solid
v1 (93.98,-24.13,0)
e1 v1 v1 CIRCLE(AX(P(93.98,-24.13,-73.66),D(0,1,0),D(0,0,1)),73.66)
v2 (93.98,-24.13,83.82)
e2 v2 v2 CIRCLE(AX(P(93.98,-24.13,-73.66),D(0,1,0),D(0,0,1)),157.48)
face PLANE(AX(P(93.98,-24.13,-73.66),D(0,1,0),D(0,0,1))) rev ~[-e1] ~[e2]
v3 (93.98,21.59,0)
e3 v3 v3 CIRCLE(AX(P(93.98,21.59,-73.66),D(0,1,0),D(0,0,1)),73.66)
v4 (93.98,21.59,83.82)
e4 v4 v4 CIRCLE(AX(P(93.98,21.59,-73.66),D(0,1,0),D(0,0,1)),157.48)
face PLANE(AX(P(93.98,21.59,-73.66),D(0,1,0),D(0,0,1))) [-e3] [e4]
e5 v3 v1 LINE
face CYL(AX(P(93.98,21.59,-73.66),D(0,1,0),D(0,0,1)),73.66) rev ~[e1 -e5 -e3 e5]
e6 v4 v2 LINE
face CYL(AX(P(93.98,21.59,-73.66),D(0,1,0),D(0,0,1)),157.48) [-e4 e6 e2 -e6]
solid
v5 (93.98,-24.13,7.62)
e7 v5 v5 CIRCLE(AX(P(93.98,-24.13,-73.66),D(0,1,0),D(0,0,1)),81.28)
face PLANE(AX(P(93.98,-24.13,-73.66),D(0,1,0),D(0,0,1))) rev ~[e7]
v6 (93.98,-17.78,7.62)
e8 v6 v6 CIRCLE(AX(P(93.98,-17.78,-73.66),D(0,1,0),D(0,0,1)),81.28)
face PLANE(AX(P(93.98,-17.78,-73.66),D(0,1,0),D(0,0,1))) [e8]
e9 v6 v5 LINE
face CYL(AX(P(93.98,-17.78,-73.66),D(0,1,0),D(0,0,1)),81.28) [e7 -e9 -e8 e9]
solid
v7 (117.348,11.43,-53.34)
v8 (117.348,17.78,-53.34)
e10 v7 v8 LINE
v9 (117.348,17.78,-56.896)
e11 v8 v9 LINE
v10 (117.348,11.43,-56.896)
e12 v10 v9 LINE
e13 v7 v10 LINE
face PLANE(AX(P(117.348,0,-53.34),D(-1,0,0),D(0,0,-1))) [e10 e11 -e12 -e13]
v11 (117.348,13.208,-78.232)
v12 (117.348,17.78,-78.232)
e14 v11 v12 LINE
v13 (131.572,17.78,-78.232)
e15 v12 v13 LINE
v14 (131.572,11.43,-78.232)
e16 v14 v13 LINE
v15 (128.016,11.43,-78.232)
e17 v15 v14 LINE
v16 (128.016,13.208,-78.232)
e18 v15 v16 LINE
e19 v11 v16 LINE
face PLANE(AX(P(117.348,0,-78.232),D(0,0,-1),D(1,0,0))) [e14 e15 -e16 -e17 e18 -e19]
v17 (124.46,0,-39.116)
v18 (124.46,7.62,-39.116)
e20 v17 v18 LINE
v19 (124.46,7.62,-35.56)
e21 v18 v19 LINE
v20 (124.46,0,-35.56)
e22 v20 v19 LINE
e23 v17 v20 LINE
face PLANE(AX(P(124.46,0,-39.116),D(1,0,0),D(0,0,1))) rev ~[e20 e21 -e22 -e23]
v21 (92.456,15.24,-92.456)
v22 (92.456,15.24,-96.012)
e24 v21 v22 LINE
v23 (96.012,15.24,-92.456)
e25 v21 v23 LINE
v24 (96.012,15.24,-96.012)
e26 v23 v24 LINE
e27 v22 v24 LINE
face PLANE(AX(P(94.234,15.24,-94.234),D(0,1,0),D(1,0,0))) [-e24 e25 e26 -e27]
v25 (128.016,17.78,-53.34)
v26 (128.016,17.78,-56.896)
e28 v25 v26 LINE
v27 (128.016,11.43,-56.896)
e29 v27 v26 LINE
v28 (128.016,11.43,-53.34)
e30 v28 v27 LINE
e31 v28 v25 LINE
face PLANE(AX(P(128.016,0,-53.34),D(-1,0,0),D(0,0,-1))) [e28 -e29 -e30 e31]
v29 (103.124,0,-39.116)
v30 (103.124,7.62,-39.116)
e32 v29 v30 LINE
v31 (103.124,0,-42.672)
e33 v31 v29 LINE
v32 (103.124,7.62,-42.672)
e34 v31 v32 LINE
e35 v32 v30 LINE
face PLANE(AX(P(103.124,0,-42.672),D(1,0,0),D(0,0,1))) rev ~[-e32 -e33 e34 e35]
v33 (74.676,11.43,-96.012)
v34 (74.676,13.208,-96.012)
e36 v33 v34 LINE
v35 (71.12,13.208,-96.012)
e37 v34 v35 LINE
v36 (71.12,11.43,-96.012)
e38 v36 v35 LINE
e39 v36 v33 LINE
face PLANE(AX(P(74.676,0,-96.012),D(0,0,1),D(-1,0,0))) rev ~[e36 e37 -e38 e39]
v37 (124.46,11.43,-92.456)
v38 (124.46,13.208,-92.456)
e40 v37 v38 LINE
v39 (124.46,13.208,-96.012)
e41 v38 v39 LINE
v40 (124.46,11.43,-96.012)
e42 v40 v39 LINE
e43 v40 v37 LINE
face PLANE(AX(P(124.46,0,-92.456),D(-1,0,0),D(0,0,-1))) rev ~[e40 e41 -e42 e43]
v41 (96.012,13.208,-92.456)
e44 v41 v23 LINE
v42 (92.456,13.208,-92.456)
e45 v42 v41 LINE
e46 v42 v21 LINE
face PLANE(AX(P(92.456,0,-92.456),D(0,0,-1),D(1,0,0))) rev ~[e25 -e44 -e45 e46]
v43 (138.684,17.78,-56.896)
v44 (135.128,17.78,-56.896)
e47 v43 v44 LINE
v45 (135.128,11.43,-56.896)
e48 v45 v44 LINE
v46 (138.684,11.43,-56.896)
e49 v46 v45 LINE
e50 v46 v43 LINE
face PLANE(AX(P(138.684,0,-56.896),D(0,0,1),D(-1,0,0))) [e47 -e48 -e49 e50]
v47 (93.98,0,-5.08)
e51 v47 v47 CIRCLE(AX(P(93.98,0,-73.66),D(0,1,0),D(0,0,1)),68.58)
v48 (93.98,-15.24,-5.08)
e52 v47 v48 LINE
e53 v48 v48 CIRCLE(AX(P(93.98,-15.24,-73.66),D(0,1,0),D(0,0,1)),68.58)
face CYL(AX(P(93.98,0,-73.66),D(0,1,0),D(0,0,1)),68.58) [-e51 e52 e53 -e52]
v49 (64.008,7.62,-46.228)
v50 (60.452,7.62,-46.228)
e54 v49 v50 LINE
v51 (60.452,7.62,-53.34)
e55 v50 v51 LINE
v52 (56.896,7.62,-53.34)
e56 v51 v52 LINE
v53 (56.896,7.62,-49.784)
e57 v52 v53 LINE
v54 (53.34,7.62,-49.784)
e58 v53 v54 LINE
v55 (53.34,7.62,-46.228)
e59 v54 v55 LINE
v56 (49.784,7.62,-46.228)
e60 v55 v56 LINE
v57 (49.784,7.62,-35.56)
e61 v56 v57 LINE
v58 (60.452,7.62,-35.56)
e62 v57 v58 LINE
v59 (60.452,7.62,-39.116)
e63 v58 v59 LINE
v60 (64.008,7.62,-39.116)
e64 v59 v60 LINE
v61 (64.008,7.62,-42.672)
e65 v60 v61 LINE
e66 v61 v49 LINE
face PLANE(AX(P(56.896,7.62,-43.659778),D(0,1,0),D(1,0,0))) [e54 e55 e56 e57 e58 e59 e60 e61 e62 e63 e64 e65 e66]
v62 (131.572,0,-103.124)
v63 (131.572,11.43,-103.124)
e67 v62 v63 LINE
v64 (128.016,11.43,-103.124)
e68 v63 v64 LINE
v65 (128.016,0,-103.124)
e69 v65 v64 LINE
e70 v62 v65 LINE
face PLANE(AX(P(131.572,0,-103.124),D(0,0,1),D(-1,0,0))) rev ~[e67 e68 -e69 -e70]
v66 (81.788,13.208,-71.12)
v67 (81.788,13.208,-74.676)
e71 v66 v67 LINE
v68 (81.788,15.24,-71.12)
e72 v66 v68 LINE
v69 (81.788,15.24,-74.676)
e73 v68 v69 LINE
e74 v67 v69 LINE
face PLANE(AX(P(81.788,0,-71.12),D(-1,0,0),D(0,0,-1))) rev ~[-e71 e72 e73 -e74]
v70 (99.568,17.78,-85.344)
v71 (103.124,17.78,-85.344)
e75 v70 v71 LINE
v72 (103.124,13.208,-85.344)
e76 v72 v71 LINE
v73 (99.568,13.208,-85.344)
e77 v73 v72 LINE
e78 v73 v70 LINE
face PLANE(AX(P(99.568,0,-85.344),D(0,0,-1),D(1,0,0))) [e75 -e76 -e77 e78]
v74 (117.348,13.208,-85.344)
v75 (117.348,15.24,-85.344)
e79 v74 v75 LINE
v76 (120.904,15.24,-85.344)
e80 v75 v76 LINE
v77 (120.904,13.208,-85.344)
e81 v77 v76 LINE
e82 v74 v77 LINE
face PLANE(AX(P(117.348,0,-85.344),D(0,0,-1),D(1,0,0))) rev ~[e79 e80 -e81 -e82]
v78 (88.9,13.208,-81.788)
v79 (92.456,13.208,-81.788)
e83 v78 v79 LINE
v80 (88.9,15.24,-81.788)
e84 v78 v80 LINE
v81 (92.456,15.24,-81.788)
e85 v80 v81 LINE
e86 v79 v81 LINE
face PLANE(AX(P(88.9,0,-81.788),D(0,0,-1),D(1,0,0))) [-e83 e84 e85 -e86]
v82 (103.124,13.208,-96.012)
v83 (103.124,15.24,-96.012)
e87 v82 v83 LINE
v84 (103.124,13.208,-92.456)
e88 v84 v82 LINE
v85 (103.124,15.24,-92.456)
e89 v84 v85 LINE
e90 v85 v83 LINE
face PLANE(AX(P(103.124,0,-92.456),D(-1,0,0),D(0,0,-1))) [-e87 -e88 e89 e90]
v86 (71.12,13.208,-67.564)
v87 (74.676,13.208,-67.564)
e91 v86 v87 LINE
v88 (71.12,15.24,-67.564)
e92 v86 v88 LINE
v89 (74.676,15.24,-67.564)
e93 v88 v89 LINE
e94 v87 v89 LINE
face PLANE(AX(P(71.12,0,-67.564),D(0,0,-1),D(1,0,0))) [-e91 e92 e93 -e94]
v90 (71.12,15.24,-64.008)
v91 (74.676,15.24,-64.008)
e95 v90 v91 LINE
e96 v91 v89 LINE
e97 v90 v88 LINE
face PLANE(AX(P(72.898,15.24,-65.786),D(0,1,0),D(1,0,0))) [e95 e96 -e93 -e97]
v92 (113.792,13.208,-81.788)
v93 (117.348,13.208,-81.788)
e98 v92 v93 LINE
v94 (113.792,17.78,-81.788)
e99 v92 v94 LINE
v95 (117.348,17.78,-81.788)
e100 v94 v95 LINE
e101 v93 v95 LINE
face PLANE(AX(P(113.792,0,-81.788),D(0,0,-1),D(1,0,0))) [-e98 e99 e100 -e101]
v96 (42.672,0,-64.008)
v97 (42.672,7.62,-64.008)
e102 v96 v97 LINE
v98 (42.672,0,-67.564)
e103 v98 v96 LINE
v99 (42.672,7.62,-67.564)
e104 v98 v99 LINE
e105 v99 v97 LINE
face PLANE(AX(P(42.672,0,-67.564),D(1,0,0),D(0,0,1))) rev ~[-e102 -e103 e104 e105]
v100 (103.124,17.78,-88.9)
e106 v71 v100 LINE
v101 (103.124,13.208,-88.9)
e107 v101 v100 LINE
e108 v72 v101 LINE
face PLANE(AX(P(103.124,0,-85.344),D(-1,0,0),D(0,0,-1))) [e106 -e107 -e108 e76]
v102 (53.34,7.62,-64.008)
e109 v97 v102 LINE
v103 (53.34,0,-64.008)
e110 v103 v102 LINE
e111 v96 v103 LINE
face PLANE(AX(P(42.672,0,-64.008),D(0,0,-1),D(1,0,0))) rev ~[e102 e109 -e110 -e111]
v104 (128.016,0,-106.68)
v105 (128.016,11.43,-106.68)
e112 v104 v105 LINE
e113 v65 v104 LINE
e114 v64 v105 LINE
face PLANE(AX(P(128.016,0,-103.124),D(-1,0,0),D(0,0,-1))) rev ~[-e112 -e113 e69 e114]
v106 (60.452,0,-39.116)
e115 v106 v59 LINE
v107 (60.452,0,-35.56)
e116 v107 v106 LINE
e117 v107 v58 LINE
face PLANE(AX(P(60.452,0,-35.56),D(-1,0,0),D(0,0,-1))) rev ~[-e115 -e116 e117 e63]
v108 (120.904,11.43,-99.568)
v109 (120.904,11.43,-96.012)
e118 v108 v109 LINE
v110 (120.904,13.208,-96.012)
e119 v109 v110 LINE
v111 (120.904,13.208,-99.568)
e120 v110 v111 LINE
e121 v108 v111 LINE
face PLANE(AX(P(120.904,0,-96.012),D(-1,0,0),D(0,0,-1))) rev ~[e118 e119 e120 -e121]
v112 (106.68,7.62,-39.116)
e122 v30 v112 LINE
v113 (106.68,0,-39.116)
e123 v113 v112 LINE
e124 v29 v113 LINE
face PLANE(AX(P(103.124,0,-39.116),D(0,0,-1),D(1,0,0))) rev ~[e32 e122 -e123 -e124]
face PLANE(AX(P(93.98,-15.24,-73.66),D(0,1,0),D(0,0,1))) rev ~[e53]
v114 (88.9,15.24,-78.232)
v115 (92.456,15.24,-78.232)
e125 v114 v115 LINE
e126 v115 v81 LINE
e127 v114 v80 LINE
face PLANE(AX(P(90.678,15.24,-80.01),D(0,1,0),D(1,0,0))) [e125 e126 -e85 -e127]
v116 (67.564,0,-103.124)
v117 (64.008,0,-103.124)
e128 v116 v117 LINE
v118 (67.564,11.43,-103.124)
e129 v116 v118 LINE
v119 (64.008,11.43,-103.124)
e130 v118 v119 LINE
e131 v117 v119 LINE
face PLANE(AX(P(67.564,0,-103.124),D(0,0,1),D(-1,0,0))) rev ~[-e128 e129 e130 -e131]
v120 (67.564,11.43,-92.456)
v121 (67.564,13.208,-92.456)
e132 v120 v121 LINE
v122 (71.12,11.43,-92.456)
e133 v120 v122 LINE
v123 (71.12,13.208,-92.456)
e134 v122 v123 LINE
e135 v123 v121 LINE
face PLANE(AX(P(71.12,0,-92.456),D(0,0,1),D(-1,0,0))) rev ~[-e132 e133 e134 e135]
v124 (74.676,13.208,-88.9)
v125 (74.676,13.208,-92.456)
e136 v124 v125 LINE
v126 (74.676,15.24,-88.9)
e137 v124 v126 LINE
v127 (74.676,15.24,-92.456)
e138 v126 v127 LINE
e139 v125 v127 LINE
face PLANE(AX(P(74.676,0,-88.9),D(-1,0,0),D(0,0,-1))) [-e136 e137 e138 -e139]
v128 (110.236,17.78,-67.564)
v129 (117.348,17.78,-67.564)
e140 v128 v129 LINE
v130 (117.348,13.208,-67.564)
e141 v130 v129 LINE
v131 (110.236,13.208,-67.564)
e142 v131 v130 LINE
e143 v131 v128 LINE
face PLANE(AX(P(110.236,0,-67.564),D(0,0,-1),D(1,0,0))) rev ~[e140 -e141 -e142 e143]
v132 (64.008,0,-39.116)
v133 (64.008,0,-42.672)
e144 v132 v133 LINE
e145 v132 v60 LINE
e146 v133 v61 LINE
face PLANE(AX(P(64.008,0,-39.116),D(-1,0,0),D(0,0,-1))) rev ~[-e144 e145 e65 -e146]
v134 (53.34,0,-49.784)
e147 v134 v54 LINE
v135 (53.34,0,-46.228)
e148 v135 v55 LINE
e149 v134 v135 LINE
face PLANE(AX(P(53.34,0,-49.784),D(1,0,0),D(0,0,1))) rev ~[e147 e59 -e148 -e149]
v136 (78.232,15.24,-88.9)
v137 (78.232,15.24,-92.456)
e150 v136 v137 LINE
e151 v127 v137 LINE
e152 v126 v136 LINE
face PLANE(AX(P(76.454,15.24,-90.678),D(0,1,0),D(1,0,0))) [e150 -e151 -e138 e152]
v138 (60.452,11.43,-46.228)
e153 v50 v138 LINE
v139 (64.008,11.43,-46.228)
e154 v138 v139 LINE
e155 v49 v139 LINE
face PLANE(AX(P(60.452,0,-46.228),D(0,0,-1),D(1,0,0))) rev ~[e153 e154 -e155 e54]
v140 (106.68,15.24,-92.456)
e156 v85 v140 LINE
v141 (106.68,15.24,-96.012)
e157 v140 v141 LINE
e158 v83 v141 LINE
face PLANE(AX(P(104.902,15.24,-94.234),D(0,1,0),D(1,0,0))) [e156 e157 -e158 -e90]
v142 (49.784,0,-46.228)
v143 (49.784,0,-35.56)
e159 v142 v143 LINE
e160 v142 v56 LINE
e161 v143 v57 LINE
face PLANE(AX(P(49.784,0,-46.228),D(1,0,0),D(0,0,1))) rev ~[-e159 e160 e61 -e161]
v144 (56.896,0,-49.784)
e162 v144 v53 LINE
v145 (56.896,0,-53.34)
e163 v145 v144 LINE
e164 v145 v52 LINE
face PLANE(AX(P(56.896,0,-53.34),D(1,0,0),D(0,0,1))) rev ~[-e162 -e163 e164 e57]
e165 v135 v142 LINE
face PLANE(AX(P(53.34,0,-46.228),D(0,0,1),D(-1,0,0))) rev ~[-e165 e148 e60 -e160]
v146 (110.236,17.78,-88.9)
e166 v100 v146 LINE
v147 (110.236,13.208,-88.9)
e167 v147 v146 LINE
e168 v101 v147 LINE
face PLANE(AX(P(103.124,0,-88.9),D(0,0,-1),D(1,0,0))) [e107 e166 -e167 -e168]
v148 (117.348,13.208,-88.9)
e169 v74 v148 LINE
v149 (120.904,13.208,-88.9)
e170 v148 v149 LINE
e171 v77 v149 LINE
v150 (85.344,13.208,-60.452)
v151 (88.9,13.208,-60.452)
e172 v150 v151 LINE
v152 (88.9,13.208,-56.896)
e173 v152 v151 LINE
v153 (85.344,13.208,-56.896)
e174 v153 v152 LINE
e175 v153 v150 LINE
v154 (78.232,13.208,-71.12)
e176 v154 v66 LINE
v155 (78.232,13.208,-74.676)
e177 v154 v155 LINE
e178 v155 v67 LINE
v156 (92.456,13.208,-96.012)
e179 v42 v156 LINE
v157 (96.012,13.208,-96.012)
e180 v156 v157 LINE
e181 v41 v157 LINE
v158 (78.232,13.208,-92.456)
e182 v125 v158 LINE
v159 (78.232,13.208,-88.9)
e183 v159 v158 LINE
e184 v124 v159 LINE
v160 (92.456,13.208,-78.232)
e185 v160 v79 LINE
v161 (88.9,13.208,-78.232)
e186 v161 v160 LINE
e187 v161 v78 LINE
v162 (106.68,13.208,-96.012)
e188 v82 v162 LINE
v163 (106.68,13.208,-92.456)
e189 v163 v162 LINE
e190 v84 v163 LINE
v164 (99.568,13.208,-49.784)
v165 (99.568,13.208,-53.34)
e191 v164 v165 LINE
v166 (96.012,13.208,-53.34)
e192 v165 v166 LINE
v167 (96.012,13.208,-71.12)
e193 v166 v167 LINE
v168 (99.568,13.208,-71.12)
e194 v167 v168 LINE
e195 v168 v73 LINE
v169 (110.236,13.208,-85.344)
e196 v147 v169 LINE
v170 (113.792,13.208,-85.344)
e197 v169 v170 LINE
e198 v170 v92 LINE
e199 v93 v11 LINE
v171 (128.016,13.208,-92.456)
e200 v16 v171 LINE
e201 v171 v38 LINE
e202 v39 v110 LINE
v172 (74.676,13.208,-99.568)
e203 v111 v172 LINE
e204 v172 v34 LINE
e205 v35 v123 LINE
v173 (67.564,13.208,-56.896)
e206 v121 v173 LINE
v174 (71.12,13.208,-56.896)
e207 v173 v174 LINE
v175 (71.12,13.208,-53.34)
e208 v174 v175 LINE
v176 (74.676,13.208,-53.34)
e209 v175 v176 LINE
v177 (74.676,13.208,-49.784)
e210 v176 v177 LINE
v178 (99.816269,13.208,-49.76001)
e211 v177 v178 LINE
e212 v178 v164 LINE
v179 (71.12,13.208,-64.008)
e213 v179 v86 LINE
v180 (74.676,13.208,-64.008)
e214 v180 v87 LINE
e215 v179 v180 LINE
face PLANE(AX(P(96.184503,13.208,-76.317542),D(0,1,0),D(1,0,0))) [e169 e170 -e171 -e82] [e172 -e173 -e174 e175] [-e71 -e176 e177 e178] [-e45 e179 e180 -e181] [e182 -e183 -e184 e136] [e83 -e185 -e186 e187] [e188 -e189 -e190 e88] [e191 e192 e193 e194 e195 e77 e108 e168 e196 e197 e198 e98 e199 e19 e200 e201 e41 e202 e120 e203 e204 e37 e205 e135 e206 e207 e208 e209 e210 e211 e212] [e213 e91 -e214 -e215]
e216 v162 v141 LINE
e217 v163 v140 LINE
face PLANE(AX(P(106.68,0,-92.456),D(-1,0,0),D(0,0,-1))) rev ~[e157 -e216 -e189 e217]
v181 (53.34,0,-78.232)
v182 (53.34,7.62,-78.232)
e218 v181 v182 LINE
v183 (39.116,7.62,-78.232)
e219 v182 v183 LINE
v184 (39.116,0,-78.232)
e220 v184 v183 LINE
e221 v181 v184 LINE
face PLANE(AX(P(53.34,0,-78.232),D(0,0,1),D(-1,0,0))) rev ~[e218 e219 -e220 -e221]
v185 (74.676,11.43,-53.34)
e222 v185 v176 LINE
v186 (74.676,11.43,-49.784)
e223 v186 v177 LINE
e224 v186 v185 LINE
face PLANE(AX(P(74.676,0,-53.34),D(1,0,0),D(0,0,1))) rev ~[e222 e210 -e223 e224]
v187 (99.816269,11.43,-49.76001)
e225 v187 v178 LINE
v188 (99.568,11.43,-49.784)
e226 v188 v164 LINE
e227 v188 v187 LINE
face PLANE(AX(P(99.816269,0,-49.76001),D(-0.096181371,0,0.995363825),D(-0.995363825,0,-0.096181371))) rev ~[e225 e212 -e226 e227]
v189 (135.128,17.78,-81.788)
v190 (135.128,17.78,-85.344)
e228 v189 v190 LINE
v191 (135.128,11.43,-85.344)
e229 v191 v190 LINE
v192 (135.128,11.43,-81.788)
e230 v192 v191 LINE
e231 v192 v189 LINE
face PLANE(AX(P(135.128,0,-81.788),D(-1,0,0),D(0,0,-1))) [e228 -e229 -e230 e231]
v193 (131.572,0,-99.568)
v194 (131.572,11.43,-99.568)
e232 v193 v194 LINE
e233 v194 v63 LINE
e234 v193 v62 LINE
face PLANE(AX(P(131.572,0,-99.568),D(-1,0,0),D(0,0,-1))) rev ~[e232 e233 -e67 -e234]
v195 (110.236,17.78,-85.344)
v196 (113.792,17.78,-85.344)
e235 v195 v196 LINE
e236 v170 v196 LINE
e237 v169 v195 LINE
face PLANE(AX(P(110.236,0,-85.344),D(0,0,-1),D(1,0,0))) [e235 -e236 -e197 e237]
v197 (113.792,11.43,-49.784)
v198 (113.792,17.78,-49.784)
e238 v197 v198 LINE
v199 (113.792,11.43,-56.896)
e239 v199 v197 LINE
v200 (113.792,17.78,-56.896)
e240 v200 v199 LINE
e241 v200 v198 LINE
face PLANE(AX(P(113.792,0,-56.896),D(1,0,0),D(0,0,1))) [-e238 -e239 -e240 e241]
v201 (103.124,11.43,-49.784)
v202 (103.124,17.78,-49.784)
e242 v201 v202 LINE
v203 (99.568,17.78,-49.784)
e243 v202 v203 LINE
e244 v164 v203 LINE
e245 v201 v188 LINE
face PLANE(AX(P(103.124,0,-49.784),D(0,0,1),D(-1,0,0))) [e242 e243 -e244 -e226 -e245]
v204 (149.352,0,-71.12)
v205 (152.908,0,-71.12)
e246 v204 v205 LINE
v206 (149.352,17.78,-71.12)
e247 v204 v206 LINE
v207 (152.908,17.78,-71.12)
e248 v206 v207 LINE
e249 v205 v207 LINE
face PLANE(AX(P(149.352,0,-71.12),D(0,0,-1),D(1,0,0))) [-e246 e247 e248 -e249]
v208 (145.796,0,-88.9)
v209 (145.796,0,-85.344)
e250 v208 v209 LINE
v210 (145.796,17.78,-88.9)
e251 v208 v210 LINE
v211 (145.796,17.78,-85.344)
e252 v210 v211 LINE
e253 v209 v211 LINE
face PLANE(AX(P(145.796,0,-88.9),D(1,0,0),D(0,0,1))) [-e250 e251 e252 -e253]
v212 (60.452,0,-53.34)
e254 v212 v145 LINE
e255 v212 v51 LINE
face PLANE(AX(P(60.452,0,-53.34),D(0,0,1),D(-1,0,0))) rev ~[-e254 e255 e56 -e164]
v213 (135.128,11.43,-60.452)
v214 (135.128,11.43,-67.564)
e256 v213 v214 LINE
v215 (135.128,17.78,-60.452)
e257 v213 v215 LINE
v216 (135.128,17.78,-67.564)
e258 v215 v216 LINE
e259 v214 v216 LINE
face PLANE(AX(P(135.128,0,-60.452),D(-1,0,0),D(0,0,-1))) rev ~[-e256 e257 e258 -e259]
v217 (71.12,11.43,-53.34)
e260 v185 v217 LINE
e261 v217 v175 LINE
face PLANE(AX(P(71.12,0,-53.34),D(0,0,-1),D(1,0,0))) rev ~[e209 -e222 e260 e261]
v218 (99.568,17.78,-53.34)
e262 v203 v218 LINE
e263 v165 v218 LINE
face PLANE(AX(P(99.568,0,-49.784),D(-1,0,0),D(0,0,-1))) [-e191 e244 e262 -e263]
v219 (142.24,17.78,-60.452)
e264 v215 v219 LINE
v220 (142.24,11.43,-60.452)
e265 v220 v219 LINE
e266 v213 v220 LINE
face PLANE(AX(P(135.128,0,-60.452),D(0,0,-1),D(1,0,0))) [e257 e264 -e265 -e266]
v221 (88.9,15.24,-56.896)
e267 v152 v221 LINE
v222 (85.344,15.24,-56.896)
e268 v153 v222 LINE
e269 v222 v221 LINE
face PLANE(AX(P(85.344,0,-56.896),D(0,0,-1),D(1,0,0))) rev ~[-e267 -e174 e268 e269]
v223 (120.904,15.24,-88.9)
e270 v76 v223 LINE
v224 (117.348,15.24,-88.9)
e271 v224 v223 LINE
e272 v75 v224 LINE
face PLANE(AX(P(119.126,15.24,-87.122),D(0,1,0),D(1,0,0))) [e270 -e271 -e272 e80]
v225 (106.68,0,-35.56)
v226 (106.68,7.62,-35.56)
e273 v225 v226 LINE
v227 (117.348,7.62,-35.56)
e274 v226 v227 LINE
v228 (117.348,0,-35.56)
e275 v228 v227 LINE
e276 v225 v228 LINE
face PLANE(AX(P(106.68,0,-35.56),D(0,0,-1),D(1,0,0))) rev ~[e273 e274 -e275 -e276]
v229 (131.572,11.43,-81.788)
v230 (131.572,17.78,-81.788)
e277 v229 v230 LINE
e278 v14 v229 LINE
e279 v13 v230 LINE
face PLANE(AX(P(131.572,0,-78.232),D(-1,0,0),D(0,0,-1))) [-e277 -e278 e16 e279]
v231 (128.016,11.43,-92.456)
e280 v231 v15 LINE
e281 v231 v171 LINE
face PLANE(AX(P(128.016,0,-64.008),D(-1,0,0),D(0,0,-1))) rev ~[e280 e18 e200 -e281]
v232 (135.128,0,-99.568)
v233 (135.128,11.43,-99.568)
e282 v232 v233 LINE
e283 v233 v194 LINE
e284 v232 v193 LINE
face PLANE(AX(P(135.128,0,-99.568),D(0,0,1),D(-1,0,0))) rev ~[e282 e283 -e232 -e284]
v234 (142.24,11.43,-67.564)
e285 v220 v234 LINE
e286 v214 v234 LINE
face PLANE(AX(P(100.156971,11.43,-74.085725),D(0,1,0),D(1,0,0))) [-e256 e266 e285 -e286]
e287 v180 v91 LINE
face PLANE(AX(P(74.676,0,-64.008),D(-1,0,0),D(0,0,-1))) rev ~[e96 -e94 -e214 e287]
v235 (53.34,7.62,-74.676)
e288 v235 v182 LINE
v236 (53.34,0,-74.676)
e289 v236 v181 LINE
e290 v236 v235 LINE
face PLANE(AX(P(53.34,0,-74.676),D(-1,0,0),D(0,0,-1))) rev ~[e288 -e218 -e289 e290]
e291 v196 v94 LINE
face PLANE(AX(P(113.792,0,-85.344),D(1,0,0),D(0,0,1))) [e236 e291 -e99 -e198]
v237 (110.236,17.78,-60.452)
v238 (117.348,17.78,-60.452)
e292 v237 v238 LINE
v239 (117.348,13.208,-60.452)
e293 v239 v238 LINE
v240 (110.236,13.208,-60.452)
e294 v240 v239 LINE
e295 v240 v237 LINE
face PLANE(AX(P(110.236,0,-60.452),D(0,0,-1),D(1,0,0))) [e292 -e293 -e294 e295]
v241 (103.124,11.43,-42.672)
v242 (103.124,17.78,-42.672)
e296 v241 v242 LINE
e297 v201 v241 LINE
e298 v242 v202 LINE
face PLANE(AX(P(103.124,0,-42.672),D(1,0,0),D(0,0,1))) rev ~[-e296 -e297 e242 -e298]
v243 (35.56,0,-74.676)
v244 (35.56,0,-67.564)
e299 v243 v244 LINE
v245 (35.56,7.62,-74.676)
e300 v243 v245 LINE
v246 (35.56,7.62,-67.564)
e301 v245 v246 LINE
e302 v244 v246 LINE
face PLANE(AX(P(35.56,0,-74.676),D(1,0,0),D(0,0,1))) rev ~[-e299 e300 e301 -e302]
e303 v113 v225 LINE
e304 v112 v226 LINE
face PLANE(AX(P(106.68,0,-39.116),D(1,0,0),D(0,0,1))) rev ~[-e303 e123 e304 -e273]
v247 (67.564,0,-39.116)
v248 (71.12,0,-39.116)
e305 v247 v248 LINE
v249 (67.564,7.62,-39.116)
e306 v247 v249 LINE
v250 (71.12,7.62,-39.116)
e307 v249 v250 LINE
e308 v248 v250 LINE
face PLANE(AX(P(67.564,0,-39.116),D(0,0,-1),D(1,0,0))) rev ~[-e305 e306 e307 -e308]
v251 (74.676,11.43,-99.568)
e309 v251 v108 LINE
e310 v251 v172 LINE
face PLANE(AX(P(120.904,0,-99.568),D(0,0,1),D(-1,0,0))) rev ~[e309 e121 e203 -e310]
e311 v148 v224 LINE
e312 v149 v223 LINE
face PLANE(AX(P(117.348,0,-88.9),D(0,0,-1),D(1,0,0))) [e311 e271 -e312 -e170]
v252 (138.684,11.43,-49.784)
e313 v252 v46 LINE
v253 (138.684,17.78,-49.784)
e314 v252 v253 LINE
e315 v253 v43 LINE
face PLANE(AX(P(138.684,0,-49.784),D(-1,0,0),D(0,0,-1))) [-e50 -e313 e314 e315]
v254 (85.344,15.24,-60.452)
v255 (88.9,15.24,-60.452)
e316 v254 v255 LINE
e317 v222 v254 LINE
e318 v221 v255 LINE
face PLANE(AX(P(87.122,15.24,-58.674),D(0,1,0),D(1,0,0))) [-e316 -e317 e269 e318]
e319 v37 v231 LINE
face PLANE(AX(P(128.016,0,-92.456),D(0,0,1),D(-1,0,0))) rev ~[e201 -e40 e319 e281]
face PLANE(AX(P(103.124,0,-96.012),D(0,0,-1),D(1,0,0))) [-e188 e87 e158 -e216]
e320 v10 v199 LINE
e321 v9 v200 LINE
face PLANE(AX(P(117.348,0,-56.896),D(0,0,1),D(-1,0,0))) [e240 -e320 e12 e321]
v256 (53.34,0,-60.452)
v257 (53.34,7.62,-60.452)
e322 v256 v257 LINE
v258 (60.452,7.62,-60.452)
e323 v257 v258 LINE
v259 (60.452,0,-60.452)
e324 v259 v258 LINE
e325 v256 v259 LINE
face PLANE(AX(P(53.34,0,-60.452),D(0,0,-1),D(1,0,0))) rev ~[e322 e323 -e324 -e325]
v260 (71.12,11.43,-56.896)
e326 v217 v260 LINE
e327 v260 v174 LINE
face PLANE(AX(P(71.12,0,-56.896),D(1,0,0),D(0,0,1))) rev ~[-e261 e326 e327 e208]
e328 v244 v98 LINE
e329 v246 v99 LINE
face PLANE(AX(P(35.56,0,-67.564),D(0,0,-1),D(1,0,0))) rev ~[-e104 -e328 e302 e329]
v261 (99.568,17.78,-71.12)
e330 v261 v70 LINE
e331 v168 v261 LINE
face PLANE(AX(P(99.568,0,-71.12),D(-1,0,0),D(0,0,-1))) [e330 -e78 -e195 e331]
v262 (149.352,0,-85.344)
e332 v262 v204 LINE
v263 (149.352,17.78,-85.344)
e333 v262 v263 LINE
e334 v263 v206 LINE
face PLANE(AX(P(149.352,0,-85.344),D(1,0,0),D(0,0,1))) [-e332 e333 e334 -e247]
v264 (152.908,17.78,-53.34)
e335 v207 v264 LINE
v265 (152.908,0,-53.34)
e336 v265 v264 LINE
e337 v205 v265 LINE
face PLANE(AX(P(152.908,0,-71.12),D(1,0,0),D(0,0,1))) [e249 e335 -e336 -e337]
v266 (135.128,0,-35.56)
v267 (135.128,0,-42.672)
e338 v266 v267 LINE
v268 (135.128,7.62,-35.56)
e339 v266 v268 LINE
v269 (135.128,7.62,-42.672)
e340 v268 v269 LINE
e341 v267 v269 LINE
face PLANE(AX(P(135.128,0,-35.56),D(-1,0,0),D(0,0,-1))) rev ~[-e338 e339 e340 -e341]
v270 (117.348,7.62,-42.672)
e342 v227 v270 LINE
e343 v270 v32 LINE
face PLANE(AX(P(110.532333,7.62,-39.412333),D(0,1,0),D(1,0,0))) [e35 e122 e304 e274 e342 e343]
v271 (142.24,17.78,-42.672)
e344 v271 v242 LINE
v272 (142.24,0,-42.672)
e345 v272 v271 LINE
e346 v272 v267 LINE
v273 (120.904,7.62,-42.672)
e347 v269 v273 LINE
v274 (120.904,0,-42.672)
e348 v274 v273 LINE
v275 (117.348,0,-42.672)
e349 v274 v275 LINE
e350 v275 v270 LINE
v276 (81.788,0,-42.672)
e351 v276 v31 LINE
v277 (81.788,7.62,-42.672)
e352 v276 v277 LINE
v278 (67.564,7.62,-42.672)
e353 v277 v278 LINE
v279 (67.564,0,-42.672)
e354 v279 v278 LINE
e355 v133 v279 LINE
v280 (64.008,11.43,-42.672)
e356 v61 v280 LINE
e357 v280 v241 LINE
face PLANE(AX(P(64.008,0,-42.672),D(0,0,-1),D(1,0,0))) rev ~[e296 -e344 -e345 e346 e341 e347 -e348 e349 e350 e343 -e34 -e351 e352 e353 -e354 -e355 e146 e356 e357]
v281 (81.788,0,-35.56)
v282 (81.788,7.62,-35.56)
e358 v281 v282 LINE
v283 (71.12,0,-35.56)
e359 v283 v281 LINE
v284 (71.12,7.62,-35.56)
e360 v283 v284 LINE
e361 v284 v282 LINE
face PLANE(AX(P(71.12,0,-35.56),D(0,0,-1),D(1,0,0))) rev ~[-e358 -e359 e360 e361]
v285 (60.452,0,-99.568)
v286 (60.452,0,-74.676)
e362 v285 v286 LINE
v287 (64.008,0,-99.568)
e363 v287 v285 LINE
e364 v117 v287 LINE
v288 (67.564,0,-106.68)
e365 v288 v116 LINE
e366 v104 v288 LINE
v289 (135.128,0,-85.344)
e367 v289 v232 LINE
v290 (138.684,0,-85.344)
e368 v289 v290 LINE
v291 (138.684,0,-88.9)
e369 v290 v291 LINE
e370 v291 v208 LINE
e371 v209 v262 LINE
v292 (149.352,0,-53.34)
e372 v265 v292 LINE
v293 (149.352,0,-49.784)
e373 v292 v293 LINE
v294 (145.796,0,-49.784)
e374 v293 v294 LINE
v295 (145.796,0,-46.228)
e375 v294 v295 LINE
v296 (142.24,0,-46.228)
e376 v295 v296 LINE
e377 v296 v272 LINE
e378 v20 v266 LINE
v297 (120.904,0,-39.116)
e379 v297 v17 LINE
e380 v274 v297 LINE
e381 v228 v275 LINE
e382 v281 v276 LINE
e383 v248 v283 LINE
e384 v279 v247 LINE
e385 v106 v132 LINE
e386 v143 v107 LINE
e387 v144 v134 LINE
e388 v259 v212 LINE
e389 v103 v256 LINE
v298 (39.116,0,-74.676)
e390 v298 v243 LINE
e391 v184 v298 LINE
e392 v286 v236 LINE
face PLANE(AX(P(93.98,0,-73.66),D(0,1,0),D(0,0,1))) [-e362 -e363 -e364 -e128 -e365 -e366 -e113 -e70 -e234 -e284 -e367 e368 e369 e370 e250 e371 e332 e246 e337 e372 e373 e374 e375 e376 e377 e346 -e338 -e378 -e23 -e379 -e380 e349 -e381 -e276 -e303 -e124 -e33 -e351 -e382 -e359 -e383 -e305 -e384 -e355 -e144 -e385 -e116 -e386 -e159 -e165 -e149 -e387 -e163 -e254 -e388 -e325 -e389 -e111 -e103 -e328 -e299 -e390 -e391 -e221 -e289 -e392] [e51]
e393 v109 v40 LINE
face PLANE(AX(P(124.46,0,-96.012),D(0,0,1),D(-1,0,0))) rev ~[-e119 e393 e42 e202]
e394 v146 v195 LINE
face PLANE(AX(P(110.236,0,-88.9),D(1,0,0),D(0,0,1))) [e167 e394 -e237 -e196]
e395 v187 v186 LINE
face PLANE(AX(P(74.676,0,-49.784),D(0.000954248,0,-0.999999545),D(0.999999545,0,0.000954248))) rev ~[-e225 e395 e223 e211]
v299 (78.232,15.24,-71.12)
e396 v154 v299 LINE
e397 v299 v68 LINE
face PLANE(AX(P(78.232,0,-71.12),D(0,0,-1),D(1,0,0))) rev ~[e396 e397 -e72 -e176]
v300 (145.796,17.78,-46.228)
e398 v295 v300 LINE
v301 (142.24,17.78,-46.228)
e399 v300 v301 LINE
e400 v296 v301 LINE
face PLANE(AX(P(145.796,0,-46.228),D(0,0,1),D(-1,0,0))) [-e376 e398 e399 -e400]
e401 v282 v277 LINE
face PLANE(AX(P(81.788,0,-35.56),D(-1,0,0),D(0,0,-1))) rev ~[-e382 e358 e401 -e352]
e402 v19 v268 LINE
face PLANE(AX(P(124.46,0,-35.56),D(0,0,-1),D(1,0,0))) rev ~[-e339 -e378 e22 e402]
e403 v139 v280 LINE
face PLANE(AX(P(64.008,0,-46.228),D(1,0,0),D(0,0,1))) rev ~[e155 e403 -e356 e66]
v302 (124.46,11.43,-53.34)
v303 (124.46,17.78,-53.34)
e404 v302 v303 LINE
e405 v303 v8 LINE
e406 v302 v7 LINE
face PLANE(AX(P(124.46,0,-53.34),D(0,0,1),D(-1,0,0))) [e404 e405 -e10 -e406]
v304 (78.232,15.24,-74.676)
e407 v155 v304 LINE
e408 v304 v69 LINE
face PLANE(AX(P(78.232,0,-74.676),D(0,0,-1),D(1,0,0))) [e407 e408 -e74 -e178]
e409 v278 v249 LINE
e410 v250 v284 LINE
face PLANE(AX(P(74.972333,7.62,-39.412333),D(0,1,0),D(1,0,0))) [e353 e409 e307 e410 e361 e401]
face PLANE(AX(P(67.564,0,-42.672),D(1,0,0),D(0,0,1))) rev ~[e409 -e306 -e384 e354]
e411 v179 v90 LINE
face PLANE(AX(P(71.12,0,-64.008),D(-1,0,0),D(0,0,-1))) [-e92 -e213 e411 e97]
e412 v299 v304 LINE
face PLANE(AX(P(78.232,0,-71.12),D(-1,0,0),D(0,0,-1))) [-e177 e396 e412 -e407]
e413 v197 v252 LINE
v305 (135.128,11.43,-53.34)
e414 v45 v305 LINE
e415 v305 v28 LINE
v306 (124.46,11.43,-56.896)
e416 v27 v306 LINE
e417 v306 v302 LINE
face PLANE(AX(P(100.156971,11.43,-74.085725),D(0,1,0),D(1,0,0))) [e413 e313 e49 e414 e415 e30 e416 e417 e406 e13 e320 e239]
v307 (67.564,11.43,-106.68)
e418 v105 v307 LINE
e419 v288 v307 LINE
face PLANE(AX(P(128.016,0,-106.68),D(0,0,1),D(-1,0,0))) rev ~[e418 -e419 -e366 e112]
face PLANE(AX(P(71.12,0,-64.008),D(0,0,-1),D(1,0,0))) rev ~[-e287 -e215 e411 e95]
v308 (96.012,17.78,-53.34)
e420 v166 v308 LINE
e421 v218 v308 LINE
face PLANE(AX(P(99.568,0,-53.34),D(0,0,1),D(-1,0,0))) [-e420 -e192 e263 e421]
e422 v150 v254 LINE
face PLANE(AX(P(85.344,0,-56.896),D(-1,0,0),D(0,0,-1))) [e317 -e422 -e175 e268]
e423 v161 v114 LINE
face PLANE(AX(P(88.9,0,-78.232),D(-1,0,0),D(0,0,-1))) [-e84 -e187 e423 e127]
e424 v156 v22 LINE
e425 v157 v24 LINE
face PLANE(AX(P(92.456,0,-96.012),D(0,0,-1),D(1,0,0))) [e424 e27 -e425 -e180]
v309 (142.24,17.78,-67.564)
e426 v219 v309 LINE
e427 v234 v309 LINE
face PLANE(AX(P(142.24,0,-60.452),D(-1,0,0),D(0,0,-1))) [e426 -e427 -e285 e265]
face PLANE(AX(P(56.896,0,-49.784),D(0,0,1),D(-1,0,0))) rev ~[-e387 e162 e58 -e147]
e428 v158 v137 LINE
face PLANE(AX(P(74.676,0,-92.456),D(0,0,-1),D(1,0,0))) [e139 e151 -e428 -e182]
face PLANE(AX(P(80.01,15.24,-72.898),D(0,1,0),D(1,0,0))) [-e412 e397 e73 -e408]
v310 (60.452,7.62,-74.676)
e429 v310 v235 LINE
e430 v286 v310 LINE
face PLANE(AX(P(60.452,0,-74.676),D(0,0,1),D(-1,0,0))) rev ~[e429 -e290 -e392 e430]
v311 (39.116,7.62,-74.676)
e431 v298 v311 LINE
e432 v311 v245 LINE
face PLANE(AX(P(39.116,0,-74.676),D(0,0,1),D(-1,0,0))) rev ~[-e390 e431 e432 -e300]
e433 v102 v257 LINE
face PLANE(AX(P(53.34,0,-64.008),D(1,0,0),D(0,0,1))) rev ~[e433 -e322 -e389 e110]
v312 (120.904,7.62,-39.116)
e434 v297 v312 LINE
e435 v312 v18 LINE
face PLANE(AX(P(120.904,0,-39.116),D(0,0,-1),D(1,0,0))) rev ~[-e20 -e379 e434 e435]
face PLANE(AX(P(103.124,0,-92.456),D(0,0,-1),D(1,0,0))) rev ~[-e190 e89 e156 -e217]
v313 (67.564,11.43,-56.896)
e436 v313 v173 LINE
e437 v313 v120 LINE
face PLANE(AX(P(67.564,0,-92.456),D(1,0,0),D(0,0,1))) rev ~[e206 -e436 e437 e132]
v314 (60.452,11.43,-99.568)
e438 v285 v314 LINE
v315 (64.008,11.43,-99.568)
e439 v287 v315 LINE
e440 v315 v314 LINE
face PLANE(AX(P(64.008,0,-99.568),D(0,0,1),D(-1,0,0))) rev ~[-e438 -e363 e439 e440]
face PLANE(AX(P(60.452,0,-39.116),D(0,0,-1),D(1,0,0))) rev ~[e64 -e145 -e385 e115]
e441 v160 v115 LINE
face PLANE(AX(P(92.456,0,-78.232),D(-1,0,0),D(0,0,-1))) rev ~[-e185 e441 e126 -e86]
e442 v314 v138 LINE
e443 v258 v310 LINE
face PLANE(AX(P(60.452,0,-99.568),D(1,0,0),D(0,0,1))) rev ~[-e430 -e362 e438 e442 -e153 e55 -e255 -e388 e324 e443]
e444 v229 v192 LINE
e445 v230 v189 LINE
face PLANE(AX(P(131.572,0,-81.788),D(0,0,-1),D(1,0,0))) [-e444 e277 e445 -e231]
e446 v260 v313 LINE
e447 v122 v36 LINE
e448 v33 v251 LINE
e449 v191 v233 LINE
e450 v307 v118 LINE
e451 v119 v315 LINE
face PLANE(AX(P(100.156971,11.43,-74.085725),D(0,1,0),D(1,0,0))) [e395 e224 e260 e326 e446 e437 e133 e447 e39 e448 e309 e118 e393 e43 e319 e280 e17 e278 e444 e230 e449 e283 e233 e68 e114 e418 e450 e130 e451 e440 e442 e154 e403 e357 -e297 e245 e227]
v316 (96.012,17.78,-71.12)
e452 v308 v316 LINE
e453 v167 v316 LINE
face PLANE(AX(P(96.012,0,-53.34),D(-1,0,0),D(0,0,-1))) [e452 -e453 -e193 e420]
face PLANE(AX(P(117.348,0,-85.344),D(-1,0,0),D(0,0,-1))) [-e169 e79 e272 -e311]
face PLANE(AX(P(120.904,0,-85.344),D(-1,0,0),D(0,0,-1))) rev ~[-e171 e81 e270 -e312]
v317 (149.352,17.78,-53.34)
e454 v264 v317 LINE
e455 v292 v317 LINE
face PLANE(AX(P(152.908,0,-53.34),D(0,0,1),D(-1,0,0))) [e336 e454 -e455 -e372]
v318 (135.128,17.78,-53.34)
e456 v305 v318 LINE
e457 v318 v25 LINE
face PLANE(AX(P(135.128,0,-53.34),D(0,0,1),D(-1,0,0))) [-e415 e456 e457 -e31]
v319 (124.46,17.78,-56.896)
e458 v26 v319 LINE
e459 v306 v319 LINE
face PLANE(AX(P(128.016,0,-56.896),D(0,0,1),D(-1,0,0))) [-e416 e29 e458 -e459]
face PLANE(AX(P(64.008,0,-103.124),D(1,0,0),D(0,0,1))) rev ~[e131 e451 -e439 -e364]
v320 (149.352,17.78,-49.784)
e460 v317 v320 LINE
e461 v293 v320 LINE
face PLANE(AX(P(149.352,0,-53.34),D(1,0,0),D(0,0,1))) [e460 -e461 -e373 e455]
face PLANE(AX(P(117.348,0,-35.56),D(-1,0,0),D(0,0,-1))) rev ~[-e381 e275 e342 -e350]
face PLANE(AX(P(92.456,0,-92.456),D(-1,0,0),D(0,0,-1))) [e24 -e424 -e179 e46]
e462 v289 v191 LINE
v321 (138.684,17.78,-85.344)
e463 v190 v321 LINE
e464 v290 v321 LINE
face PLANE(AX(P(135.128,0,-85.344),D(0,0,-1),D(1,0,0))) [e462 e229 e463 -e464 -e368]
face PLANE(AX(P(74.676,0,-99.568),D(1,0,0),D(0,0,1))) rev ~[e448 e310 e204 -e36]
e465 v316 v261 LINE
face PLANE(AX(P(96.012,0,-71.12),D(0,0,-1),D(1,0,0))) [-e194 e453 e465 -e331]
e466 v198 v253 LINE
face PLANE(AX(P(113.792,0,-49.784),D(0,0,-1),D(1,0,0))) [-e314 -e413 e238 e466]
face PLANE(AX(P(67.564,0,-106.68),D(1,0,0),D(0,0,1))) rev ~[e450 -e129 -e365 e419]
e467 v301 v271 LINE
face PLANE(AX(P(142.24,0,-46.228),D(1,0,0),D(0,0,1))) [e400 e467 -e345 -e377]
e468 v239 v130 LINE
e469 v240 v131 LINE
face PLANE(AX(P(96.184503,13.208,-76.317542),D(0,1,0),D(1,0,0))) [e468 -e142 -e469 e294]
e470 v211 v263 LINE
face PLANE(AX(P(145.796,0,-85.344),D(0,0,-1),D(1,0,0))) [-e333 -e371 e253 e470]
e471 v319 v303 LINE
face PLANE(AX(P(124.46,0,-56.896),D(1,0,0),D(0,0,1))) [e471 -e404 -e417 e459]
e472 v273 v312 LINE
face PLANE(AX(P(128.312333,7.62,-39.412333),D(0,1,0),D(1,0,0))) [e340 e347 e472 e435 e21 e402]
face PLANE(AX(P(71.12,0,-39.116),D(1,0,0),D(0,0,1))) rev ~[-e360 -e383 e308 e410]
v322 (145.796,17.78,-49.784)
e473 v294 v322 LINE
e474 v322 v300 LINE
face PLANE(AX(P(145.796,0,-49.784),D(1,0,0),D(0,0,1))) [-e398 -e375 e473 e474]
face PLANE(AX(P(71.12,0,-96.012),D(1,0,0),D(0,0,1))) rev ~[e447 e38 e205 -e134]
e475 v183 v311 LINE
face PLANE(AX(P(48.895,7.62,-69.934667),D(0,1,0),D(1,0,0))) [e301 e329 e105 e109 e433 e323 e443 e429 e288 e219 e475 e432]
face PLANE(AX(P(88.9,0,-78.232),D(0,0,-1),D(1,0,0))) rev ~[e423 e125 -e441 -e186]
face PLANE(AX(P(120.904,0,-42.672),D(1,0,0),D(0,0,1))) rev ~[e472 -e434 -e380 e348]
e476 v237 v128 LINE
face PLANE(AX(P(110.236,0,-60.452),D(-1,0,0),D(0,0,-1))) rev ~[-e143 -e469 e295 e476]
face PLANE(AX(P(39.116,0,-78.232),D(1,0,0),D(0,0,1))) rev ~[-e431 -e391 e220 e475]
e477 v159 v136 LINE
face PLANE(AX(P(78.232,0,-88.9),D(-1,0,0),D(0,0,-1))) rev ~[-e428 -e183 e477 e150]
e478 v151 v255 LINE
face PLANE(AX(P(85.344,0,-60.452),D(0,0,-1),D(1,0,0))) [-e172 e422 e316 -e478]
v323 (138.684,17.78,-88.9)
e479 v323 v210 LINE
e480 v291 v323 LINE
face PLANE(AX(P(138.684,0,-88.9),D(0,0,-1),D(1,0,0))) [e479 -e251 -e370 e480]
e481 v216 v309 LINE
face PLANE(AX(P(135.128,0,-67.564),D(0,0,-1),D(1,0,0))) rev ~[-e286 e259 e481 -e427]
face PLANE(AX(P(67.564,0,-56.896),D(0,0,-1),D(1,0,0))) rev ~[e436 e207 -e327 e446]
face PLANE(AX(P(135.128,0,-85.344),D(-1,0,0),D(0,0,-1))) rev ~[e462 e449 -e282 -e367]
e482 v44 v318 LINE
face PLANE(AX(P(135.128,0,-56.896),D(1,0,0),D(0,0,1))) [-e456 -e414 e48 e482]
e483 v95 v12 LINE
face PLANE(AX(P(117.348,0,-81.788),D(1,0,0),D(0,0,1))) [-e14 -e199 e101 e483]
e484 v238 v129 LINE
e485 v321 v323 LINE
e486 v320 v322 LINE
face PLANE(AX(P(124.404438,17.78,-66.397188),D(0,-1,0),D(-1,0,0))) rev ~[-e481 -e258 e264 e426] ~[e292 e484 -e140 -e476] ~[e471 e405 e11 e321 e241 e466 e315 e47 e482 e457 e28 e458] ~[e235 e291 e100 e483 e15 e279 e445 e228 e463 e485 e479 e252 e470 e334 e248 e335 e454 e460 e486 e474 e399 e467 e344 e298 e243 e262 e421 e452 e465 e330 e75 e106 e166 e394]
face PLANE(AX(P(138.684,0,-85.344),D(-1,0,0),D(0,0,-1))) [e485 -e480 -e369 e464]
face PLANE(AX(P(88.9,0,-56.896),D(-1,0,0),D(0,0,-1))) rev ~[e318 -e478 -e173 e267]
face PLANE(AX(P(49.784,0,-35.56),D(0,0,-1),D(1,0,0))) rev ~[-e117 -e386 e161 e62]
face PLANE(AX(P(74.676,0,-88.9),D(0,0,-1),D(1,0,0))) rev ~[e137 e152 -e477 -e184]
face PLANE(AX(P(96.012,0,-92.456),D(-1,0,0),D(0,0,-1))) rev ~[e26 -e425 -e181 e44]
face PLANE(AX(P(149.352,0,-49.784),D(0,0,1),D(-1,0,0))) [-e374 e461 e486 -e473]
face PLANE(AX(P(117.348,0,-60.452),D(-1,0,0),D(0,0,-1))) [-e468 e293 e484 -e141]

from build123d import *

# Parameters (mm, degrees)
FACE_3_W           = 7.112
FACE_3_H           = 7.112
FACE_2_DEPTH       = 17.78
FEETTAIL_DEPTH     = 7.62
POPTART_DEPTH      = 11.43
SPRINKLES_W        = 3.556
SPRINKLES_H        = 3.556
SPRINKLE_DEPTH     = 15.24
ENGRAVE_DEPTH      = 13.208
SKETCH2_R          = 68.58
CUPCAKE_DEPTH      = 15.24
RETAINING_START    = 21.59
SKETCH4_R          = 157.48
SKETCH4_R_2        = 73.66
RETAINING_DEPTH    = 45.72
CUPCAKE_START      = -17.78
SKETCH5_R          = 81.28
CUPCAKE_BODY_DEPTH = 6.35


with BuildPart() as part:
    # face 3 → face 2 (new body)
    with BuildSketch(Plane(origin=(0, 0, 0), x_dir=(1, 0, 0), z_dir=(0, 1, 0))):
        Polygon((103.124, 88.9), (110.236, 88.9), (110.236, 85.344), (113.792, 85.344), (113.792, 81.788), (117.348, 81.788), (117.348, 78.232), (131.572, 78.232), (131.572, 81.788), (135.128, 81.788), (135.128, 85.344), (138.684, 85.344), (138.684, 88.9), (145.796, 88.9), (145.796, 85.344), (149.352, 85.344), (149.352, 71.12), (152.908, 71.12), (152.908, 53.34), (149.352, 53.34), (149.352, 49.784), (145.796, 49.784), (145.796, 46.228), (142.24, 46.228), (142.24, 42.672), (103.124, 42.672), (103.124, 49.784), (99.568, 49.784), (99.568, 53.34), (96.012, 53.34), (96.012, 71.12), (99.568, 71.12), (99.568, 85.344), (103.124, 85.344), align=None)
        with Locations((113.792, 64.008)):
            Rectangle(FACE_3_W, FACE_3_H, mode=Mode.SUBTRACT)
        with Locations((138.684, 64.008)):
            Rectangle(FACE_3_W, FACE_3_H, mode=Mode.SUBTRACT)
        Polygon((113.792, 56.896), (113.792, 49.784), (138.684, 49.784), (138.684, 56.896), (135.128, 56.896), (135.128, 53.34), (128.016, 53.34), (128.016, 56.896), (124.46, 56.896), (124.46, 53.34), (117.348, 53.34), (117.348, 56.896), align=None, mode=Mode.SUBTRACT)
    extrude(amount=FACE_2_DEPTH)

    # feet tail → feettail (add)
    with BuildSketch(Plane(origin=(0, 0, 0), x_dir=(1, 0, 0), z_dir=(0, 1, 0))):
        Polygon((60.452, 74.676), (53.34, 74.676), (53.34, 78.232), (39.116, 78.232), (39.116, 74.676), (35.56, 74.676), (35.56, 67.564), (42.672, 67.564), (42.672, 64.008), (53.34, 64.008), (53.34, 60.452), (60.452, 60.452), align=None)
        Polygon((60.452, 53.34), (56.896, 53.34), (56.896, 49.784), (53.34, 49.784), (53.34, 46.228), (49.784, 46.228), (49.784, 35.56), (60.452, 35.56), (60.452, 39.116), (64.008, 39.116), (64.008, 46.228), (60.452, 46.228), align=None)
        Polygon((67.564, 42.672), (67.564, 39.116), (71.12, 39.116), (71.12, 35.56), (81.788, 35.56), (81.788, 42.672), align=None)
        Polygon((103.124, 42.672), (103.124, 39.116), (106.68, 39.116), (106.68, 35.56), (117.348, 35.56), (117.348, 42.672), align=None)
        Polygon((120.904, 42.672), (120.904, 39.116), (124.46, 39.116), (124.46, 35.56), (135.128, 35.56), (135.128, 42.672), align=None)
    extrude(amount=FEETTAIL_DEPTH)


with BuildPart() as feettail_piece_1:
    # of the separate pieces the step leaves, piece 1, a body of its own (feettail_pieces)
    add(part.part.solids().sort_by_distance((103.124, 0, -88.9))[0])



with BuildPart() as feettail_piece_2:
    # of the separate pieces the step leaves, piece 2, a body of its own (feettail_pieces)
    add(part.part.solids().sort_by_distance((60.452, 0, -74.676))[0])


with BuildPart() as feettail_piece_3:
    # of the separate pieces the step leaves, piece 3, a body of its own (feettail_pieces)
    add(part.part.solids().sort_by_distance((60.452, 0, -53.34))[0])


with BuildPart() as feettail_piece_4:
    # of the separate pieces the step leaves, piece 4, a body of its own (feettail_pieces)
    add(part.part.solids().sort_by_distance((67.564, 0, -42.672))[0])


with BuildPart() as feettail_piece_1_1:
    add(feettail_piece_1.part)

    add(feettail_piece_3.part)  # poptart merges feettail piece 3

    add(feettail_piece_4.part)  # poptart merges feettail piece 4
    # poptart 2 → poptart (add)
    with BuildSketch(Plane(origin=(0, 0, 0), x_dir=(1, 0, 0), z_dir=(0, 1, 0))):
        Polygon((135.128, 99.568), (131.572, 99.568), (131.572, 103.124), (128.016, 103.124), (128.016, 106.68), (67.564, 106.68), (67.564, 103.124), (64.008, 103.124), (64.008, 99.568), (60.452, 99.568), (60.452, 46.228), (64.008, 46.228), (64.008, 42.672), (135.128, 42.672), (145.796, 53.34), (145.796, 71.12), (135.128, 85.344), align=None)
    extrude(amount=POPTART_DEPTH)

    # sprinkles → sprinkle (add)
    with BuildSketch(Plane(origin=(0, 0, 0), x_dir=(1, 0, 0), z_dir=(0, 1, 0))):
        with Locations((72.898, 65.786)):
            Rectangle(SPRINKLES_W, SPRINKLES_H)
        with Locations((80.01, 72.898)):
            Rectangle(SPRINKLES_W, SPRINKLES_H)
        with Locations((90.678, 80.01)):
            Rectangle(SPRINKLES_W, SPRINKLES_H)
        with Locations((76.454, 90.678)):
            Rectangle(SPRINKLES_W, SPRINKLES_H)
        with Locations((94.234, 94.234)):
            Rectangle(SPRINKLES_W, SPRINKLES_H)
        with Locations((104.902, 94.234)):
            Rectangle(SPRINKLES_W, SPRINKLES_H)
        with Locations((119.126, 87.122)):
            Rectangle(SPRINKLES_W, SPRINKLES_H)
        with Locations((87.122, 58.674)):
            Rectangle(SPRINKLES_W, SPRINKLES_H)
    extrude(amount=SPRINKLE_DEPTH)

    # engrave poptart → engrave (add)
    with BuildSketch(Plane(origin=(0, 0, 0), x_dir=(1, 0, 0), z_dir=(0, 1, 0))):
        Polygon((71.12, 53.34), (74.676, 53.34), (74.676, 49.784), (99.816268886, 49.760009936), (99.568, 49.784), (128.016, 64.008), (128.016, 67.564), (128.016, 92.456), (124.46, 92.456), (124.46, 96.012), (120.904, 96.012), (120.904, 99.568), (74.676, 99.568), (74.676, 96.012), (71.12, 96.012), (71.12, 92.456), (67.564, 92.456), (67.564, 56.896), (71.12, 56.896), align=None)
    extrude(amount=ENGRAVE_DEPTH)


    add(feettail_piece_2.part)  # CUPCAKE merges feettail piece 2
    # Sketch2 → CUPCAKE (add)
    with BuildSketch(Plane(origin=(0, 0, 0), x_dir=(1, 0, 0), z_dir=(0, 1, 0))):
        with Locations(Location((93.98, 73.66, 0), (0, 0, 270))):
            Circle(SKETCH2_R)
    extrude(amount=-CUPCAKE_DEPTH)


with BuildPart() as body_2:
    # Sketch4 → retaining (new body)
    with BuildSketch(Plane(origin=(0, 0, 0), x_dir=(1, 0, 0), z_dir=(0, 1, 0)).offset(RETAINING_START)):
        with Locations(Location((93.98, 73.66, 0), (0, 0, 270))):
            Circle(SKETCH4_R)
        with Locations(Location((93.98, 73.66, 0), (0, 0, 270))):
            Circle(SKETCH4_R_2, mode=Mode.SUBTRACT)
    extrude(amount=-RETAINING_DEPTH)


with BuildPart() as body_3:
    # Sketch5 → cupcake body (new body)
    with BuildSketch(Plane(origin=(0, 0, 0), x_dir=(1, 0, 0), z_dir=(0, 1, 0)).offset(CUPCAKE_START)):
        with Locations(Location((93.98, 73.66, 0), (0, 0, 270))):
            Circle(SKETCH5_R)
    extrude(amount=-CUPCAKE_BODY_DEPTH)


solid = Compound([feettail_piece_1_1.part, body_2.part, body_3.part])
